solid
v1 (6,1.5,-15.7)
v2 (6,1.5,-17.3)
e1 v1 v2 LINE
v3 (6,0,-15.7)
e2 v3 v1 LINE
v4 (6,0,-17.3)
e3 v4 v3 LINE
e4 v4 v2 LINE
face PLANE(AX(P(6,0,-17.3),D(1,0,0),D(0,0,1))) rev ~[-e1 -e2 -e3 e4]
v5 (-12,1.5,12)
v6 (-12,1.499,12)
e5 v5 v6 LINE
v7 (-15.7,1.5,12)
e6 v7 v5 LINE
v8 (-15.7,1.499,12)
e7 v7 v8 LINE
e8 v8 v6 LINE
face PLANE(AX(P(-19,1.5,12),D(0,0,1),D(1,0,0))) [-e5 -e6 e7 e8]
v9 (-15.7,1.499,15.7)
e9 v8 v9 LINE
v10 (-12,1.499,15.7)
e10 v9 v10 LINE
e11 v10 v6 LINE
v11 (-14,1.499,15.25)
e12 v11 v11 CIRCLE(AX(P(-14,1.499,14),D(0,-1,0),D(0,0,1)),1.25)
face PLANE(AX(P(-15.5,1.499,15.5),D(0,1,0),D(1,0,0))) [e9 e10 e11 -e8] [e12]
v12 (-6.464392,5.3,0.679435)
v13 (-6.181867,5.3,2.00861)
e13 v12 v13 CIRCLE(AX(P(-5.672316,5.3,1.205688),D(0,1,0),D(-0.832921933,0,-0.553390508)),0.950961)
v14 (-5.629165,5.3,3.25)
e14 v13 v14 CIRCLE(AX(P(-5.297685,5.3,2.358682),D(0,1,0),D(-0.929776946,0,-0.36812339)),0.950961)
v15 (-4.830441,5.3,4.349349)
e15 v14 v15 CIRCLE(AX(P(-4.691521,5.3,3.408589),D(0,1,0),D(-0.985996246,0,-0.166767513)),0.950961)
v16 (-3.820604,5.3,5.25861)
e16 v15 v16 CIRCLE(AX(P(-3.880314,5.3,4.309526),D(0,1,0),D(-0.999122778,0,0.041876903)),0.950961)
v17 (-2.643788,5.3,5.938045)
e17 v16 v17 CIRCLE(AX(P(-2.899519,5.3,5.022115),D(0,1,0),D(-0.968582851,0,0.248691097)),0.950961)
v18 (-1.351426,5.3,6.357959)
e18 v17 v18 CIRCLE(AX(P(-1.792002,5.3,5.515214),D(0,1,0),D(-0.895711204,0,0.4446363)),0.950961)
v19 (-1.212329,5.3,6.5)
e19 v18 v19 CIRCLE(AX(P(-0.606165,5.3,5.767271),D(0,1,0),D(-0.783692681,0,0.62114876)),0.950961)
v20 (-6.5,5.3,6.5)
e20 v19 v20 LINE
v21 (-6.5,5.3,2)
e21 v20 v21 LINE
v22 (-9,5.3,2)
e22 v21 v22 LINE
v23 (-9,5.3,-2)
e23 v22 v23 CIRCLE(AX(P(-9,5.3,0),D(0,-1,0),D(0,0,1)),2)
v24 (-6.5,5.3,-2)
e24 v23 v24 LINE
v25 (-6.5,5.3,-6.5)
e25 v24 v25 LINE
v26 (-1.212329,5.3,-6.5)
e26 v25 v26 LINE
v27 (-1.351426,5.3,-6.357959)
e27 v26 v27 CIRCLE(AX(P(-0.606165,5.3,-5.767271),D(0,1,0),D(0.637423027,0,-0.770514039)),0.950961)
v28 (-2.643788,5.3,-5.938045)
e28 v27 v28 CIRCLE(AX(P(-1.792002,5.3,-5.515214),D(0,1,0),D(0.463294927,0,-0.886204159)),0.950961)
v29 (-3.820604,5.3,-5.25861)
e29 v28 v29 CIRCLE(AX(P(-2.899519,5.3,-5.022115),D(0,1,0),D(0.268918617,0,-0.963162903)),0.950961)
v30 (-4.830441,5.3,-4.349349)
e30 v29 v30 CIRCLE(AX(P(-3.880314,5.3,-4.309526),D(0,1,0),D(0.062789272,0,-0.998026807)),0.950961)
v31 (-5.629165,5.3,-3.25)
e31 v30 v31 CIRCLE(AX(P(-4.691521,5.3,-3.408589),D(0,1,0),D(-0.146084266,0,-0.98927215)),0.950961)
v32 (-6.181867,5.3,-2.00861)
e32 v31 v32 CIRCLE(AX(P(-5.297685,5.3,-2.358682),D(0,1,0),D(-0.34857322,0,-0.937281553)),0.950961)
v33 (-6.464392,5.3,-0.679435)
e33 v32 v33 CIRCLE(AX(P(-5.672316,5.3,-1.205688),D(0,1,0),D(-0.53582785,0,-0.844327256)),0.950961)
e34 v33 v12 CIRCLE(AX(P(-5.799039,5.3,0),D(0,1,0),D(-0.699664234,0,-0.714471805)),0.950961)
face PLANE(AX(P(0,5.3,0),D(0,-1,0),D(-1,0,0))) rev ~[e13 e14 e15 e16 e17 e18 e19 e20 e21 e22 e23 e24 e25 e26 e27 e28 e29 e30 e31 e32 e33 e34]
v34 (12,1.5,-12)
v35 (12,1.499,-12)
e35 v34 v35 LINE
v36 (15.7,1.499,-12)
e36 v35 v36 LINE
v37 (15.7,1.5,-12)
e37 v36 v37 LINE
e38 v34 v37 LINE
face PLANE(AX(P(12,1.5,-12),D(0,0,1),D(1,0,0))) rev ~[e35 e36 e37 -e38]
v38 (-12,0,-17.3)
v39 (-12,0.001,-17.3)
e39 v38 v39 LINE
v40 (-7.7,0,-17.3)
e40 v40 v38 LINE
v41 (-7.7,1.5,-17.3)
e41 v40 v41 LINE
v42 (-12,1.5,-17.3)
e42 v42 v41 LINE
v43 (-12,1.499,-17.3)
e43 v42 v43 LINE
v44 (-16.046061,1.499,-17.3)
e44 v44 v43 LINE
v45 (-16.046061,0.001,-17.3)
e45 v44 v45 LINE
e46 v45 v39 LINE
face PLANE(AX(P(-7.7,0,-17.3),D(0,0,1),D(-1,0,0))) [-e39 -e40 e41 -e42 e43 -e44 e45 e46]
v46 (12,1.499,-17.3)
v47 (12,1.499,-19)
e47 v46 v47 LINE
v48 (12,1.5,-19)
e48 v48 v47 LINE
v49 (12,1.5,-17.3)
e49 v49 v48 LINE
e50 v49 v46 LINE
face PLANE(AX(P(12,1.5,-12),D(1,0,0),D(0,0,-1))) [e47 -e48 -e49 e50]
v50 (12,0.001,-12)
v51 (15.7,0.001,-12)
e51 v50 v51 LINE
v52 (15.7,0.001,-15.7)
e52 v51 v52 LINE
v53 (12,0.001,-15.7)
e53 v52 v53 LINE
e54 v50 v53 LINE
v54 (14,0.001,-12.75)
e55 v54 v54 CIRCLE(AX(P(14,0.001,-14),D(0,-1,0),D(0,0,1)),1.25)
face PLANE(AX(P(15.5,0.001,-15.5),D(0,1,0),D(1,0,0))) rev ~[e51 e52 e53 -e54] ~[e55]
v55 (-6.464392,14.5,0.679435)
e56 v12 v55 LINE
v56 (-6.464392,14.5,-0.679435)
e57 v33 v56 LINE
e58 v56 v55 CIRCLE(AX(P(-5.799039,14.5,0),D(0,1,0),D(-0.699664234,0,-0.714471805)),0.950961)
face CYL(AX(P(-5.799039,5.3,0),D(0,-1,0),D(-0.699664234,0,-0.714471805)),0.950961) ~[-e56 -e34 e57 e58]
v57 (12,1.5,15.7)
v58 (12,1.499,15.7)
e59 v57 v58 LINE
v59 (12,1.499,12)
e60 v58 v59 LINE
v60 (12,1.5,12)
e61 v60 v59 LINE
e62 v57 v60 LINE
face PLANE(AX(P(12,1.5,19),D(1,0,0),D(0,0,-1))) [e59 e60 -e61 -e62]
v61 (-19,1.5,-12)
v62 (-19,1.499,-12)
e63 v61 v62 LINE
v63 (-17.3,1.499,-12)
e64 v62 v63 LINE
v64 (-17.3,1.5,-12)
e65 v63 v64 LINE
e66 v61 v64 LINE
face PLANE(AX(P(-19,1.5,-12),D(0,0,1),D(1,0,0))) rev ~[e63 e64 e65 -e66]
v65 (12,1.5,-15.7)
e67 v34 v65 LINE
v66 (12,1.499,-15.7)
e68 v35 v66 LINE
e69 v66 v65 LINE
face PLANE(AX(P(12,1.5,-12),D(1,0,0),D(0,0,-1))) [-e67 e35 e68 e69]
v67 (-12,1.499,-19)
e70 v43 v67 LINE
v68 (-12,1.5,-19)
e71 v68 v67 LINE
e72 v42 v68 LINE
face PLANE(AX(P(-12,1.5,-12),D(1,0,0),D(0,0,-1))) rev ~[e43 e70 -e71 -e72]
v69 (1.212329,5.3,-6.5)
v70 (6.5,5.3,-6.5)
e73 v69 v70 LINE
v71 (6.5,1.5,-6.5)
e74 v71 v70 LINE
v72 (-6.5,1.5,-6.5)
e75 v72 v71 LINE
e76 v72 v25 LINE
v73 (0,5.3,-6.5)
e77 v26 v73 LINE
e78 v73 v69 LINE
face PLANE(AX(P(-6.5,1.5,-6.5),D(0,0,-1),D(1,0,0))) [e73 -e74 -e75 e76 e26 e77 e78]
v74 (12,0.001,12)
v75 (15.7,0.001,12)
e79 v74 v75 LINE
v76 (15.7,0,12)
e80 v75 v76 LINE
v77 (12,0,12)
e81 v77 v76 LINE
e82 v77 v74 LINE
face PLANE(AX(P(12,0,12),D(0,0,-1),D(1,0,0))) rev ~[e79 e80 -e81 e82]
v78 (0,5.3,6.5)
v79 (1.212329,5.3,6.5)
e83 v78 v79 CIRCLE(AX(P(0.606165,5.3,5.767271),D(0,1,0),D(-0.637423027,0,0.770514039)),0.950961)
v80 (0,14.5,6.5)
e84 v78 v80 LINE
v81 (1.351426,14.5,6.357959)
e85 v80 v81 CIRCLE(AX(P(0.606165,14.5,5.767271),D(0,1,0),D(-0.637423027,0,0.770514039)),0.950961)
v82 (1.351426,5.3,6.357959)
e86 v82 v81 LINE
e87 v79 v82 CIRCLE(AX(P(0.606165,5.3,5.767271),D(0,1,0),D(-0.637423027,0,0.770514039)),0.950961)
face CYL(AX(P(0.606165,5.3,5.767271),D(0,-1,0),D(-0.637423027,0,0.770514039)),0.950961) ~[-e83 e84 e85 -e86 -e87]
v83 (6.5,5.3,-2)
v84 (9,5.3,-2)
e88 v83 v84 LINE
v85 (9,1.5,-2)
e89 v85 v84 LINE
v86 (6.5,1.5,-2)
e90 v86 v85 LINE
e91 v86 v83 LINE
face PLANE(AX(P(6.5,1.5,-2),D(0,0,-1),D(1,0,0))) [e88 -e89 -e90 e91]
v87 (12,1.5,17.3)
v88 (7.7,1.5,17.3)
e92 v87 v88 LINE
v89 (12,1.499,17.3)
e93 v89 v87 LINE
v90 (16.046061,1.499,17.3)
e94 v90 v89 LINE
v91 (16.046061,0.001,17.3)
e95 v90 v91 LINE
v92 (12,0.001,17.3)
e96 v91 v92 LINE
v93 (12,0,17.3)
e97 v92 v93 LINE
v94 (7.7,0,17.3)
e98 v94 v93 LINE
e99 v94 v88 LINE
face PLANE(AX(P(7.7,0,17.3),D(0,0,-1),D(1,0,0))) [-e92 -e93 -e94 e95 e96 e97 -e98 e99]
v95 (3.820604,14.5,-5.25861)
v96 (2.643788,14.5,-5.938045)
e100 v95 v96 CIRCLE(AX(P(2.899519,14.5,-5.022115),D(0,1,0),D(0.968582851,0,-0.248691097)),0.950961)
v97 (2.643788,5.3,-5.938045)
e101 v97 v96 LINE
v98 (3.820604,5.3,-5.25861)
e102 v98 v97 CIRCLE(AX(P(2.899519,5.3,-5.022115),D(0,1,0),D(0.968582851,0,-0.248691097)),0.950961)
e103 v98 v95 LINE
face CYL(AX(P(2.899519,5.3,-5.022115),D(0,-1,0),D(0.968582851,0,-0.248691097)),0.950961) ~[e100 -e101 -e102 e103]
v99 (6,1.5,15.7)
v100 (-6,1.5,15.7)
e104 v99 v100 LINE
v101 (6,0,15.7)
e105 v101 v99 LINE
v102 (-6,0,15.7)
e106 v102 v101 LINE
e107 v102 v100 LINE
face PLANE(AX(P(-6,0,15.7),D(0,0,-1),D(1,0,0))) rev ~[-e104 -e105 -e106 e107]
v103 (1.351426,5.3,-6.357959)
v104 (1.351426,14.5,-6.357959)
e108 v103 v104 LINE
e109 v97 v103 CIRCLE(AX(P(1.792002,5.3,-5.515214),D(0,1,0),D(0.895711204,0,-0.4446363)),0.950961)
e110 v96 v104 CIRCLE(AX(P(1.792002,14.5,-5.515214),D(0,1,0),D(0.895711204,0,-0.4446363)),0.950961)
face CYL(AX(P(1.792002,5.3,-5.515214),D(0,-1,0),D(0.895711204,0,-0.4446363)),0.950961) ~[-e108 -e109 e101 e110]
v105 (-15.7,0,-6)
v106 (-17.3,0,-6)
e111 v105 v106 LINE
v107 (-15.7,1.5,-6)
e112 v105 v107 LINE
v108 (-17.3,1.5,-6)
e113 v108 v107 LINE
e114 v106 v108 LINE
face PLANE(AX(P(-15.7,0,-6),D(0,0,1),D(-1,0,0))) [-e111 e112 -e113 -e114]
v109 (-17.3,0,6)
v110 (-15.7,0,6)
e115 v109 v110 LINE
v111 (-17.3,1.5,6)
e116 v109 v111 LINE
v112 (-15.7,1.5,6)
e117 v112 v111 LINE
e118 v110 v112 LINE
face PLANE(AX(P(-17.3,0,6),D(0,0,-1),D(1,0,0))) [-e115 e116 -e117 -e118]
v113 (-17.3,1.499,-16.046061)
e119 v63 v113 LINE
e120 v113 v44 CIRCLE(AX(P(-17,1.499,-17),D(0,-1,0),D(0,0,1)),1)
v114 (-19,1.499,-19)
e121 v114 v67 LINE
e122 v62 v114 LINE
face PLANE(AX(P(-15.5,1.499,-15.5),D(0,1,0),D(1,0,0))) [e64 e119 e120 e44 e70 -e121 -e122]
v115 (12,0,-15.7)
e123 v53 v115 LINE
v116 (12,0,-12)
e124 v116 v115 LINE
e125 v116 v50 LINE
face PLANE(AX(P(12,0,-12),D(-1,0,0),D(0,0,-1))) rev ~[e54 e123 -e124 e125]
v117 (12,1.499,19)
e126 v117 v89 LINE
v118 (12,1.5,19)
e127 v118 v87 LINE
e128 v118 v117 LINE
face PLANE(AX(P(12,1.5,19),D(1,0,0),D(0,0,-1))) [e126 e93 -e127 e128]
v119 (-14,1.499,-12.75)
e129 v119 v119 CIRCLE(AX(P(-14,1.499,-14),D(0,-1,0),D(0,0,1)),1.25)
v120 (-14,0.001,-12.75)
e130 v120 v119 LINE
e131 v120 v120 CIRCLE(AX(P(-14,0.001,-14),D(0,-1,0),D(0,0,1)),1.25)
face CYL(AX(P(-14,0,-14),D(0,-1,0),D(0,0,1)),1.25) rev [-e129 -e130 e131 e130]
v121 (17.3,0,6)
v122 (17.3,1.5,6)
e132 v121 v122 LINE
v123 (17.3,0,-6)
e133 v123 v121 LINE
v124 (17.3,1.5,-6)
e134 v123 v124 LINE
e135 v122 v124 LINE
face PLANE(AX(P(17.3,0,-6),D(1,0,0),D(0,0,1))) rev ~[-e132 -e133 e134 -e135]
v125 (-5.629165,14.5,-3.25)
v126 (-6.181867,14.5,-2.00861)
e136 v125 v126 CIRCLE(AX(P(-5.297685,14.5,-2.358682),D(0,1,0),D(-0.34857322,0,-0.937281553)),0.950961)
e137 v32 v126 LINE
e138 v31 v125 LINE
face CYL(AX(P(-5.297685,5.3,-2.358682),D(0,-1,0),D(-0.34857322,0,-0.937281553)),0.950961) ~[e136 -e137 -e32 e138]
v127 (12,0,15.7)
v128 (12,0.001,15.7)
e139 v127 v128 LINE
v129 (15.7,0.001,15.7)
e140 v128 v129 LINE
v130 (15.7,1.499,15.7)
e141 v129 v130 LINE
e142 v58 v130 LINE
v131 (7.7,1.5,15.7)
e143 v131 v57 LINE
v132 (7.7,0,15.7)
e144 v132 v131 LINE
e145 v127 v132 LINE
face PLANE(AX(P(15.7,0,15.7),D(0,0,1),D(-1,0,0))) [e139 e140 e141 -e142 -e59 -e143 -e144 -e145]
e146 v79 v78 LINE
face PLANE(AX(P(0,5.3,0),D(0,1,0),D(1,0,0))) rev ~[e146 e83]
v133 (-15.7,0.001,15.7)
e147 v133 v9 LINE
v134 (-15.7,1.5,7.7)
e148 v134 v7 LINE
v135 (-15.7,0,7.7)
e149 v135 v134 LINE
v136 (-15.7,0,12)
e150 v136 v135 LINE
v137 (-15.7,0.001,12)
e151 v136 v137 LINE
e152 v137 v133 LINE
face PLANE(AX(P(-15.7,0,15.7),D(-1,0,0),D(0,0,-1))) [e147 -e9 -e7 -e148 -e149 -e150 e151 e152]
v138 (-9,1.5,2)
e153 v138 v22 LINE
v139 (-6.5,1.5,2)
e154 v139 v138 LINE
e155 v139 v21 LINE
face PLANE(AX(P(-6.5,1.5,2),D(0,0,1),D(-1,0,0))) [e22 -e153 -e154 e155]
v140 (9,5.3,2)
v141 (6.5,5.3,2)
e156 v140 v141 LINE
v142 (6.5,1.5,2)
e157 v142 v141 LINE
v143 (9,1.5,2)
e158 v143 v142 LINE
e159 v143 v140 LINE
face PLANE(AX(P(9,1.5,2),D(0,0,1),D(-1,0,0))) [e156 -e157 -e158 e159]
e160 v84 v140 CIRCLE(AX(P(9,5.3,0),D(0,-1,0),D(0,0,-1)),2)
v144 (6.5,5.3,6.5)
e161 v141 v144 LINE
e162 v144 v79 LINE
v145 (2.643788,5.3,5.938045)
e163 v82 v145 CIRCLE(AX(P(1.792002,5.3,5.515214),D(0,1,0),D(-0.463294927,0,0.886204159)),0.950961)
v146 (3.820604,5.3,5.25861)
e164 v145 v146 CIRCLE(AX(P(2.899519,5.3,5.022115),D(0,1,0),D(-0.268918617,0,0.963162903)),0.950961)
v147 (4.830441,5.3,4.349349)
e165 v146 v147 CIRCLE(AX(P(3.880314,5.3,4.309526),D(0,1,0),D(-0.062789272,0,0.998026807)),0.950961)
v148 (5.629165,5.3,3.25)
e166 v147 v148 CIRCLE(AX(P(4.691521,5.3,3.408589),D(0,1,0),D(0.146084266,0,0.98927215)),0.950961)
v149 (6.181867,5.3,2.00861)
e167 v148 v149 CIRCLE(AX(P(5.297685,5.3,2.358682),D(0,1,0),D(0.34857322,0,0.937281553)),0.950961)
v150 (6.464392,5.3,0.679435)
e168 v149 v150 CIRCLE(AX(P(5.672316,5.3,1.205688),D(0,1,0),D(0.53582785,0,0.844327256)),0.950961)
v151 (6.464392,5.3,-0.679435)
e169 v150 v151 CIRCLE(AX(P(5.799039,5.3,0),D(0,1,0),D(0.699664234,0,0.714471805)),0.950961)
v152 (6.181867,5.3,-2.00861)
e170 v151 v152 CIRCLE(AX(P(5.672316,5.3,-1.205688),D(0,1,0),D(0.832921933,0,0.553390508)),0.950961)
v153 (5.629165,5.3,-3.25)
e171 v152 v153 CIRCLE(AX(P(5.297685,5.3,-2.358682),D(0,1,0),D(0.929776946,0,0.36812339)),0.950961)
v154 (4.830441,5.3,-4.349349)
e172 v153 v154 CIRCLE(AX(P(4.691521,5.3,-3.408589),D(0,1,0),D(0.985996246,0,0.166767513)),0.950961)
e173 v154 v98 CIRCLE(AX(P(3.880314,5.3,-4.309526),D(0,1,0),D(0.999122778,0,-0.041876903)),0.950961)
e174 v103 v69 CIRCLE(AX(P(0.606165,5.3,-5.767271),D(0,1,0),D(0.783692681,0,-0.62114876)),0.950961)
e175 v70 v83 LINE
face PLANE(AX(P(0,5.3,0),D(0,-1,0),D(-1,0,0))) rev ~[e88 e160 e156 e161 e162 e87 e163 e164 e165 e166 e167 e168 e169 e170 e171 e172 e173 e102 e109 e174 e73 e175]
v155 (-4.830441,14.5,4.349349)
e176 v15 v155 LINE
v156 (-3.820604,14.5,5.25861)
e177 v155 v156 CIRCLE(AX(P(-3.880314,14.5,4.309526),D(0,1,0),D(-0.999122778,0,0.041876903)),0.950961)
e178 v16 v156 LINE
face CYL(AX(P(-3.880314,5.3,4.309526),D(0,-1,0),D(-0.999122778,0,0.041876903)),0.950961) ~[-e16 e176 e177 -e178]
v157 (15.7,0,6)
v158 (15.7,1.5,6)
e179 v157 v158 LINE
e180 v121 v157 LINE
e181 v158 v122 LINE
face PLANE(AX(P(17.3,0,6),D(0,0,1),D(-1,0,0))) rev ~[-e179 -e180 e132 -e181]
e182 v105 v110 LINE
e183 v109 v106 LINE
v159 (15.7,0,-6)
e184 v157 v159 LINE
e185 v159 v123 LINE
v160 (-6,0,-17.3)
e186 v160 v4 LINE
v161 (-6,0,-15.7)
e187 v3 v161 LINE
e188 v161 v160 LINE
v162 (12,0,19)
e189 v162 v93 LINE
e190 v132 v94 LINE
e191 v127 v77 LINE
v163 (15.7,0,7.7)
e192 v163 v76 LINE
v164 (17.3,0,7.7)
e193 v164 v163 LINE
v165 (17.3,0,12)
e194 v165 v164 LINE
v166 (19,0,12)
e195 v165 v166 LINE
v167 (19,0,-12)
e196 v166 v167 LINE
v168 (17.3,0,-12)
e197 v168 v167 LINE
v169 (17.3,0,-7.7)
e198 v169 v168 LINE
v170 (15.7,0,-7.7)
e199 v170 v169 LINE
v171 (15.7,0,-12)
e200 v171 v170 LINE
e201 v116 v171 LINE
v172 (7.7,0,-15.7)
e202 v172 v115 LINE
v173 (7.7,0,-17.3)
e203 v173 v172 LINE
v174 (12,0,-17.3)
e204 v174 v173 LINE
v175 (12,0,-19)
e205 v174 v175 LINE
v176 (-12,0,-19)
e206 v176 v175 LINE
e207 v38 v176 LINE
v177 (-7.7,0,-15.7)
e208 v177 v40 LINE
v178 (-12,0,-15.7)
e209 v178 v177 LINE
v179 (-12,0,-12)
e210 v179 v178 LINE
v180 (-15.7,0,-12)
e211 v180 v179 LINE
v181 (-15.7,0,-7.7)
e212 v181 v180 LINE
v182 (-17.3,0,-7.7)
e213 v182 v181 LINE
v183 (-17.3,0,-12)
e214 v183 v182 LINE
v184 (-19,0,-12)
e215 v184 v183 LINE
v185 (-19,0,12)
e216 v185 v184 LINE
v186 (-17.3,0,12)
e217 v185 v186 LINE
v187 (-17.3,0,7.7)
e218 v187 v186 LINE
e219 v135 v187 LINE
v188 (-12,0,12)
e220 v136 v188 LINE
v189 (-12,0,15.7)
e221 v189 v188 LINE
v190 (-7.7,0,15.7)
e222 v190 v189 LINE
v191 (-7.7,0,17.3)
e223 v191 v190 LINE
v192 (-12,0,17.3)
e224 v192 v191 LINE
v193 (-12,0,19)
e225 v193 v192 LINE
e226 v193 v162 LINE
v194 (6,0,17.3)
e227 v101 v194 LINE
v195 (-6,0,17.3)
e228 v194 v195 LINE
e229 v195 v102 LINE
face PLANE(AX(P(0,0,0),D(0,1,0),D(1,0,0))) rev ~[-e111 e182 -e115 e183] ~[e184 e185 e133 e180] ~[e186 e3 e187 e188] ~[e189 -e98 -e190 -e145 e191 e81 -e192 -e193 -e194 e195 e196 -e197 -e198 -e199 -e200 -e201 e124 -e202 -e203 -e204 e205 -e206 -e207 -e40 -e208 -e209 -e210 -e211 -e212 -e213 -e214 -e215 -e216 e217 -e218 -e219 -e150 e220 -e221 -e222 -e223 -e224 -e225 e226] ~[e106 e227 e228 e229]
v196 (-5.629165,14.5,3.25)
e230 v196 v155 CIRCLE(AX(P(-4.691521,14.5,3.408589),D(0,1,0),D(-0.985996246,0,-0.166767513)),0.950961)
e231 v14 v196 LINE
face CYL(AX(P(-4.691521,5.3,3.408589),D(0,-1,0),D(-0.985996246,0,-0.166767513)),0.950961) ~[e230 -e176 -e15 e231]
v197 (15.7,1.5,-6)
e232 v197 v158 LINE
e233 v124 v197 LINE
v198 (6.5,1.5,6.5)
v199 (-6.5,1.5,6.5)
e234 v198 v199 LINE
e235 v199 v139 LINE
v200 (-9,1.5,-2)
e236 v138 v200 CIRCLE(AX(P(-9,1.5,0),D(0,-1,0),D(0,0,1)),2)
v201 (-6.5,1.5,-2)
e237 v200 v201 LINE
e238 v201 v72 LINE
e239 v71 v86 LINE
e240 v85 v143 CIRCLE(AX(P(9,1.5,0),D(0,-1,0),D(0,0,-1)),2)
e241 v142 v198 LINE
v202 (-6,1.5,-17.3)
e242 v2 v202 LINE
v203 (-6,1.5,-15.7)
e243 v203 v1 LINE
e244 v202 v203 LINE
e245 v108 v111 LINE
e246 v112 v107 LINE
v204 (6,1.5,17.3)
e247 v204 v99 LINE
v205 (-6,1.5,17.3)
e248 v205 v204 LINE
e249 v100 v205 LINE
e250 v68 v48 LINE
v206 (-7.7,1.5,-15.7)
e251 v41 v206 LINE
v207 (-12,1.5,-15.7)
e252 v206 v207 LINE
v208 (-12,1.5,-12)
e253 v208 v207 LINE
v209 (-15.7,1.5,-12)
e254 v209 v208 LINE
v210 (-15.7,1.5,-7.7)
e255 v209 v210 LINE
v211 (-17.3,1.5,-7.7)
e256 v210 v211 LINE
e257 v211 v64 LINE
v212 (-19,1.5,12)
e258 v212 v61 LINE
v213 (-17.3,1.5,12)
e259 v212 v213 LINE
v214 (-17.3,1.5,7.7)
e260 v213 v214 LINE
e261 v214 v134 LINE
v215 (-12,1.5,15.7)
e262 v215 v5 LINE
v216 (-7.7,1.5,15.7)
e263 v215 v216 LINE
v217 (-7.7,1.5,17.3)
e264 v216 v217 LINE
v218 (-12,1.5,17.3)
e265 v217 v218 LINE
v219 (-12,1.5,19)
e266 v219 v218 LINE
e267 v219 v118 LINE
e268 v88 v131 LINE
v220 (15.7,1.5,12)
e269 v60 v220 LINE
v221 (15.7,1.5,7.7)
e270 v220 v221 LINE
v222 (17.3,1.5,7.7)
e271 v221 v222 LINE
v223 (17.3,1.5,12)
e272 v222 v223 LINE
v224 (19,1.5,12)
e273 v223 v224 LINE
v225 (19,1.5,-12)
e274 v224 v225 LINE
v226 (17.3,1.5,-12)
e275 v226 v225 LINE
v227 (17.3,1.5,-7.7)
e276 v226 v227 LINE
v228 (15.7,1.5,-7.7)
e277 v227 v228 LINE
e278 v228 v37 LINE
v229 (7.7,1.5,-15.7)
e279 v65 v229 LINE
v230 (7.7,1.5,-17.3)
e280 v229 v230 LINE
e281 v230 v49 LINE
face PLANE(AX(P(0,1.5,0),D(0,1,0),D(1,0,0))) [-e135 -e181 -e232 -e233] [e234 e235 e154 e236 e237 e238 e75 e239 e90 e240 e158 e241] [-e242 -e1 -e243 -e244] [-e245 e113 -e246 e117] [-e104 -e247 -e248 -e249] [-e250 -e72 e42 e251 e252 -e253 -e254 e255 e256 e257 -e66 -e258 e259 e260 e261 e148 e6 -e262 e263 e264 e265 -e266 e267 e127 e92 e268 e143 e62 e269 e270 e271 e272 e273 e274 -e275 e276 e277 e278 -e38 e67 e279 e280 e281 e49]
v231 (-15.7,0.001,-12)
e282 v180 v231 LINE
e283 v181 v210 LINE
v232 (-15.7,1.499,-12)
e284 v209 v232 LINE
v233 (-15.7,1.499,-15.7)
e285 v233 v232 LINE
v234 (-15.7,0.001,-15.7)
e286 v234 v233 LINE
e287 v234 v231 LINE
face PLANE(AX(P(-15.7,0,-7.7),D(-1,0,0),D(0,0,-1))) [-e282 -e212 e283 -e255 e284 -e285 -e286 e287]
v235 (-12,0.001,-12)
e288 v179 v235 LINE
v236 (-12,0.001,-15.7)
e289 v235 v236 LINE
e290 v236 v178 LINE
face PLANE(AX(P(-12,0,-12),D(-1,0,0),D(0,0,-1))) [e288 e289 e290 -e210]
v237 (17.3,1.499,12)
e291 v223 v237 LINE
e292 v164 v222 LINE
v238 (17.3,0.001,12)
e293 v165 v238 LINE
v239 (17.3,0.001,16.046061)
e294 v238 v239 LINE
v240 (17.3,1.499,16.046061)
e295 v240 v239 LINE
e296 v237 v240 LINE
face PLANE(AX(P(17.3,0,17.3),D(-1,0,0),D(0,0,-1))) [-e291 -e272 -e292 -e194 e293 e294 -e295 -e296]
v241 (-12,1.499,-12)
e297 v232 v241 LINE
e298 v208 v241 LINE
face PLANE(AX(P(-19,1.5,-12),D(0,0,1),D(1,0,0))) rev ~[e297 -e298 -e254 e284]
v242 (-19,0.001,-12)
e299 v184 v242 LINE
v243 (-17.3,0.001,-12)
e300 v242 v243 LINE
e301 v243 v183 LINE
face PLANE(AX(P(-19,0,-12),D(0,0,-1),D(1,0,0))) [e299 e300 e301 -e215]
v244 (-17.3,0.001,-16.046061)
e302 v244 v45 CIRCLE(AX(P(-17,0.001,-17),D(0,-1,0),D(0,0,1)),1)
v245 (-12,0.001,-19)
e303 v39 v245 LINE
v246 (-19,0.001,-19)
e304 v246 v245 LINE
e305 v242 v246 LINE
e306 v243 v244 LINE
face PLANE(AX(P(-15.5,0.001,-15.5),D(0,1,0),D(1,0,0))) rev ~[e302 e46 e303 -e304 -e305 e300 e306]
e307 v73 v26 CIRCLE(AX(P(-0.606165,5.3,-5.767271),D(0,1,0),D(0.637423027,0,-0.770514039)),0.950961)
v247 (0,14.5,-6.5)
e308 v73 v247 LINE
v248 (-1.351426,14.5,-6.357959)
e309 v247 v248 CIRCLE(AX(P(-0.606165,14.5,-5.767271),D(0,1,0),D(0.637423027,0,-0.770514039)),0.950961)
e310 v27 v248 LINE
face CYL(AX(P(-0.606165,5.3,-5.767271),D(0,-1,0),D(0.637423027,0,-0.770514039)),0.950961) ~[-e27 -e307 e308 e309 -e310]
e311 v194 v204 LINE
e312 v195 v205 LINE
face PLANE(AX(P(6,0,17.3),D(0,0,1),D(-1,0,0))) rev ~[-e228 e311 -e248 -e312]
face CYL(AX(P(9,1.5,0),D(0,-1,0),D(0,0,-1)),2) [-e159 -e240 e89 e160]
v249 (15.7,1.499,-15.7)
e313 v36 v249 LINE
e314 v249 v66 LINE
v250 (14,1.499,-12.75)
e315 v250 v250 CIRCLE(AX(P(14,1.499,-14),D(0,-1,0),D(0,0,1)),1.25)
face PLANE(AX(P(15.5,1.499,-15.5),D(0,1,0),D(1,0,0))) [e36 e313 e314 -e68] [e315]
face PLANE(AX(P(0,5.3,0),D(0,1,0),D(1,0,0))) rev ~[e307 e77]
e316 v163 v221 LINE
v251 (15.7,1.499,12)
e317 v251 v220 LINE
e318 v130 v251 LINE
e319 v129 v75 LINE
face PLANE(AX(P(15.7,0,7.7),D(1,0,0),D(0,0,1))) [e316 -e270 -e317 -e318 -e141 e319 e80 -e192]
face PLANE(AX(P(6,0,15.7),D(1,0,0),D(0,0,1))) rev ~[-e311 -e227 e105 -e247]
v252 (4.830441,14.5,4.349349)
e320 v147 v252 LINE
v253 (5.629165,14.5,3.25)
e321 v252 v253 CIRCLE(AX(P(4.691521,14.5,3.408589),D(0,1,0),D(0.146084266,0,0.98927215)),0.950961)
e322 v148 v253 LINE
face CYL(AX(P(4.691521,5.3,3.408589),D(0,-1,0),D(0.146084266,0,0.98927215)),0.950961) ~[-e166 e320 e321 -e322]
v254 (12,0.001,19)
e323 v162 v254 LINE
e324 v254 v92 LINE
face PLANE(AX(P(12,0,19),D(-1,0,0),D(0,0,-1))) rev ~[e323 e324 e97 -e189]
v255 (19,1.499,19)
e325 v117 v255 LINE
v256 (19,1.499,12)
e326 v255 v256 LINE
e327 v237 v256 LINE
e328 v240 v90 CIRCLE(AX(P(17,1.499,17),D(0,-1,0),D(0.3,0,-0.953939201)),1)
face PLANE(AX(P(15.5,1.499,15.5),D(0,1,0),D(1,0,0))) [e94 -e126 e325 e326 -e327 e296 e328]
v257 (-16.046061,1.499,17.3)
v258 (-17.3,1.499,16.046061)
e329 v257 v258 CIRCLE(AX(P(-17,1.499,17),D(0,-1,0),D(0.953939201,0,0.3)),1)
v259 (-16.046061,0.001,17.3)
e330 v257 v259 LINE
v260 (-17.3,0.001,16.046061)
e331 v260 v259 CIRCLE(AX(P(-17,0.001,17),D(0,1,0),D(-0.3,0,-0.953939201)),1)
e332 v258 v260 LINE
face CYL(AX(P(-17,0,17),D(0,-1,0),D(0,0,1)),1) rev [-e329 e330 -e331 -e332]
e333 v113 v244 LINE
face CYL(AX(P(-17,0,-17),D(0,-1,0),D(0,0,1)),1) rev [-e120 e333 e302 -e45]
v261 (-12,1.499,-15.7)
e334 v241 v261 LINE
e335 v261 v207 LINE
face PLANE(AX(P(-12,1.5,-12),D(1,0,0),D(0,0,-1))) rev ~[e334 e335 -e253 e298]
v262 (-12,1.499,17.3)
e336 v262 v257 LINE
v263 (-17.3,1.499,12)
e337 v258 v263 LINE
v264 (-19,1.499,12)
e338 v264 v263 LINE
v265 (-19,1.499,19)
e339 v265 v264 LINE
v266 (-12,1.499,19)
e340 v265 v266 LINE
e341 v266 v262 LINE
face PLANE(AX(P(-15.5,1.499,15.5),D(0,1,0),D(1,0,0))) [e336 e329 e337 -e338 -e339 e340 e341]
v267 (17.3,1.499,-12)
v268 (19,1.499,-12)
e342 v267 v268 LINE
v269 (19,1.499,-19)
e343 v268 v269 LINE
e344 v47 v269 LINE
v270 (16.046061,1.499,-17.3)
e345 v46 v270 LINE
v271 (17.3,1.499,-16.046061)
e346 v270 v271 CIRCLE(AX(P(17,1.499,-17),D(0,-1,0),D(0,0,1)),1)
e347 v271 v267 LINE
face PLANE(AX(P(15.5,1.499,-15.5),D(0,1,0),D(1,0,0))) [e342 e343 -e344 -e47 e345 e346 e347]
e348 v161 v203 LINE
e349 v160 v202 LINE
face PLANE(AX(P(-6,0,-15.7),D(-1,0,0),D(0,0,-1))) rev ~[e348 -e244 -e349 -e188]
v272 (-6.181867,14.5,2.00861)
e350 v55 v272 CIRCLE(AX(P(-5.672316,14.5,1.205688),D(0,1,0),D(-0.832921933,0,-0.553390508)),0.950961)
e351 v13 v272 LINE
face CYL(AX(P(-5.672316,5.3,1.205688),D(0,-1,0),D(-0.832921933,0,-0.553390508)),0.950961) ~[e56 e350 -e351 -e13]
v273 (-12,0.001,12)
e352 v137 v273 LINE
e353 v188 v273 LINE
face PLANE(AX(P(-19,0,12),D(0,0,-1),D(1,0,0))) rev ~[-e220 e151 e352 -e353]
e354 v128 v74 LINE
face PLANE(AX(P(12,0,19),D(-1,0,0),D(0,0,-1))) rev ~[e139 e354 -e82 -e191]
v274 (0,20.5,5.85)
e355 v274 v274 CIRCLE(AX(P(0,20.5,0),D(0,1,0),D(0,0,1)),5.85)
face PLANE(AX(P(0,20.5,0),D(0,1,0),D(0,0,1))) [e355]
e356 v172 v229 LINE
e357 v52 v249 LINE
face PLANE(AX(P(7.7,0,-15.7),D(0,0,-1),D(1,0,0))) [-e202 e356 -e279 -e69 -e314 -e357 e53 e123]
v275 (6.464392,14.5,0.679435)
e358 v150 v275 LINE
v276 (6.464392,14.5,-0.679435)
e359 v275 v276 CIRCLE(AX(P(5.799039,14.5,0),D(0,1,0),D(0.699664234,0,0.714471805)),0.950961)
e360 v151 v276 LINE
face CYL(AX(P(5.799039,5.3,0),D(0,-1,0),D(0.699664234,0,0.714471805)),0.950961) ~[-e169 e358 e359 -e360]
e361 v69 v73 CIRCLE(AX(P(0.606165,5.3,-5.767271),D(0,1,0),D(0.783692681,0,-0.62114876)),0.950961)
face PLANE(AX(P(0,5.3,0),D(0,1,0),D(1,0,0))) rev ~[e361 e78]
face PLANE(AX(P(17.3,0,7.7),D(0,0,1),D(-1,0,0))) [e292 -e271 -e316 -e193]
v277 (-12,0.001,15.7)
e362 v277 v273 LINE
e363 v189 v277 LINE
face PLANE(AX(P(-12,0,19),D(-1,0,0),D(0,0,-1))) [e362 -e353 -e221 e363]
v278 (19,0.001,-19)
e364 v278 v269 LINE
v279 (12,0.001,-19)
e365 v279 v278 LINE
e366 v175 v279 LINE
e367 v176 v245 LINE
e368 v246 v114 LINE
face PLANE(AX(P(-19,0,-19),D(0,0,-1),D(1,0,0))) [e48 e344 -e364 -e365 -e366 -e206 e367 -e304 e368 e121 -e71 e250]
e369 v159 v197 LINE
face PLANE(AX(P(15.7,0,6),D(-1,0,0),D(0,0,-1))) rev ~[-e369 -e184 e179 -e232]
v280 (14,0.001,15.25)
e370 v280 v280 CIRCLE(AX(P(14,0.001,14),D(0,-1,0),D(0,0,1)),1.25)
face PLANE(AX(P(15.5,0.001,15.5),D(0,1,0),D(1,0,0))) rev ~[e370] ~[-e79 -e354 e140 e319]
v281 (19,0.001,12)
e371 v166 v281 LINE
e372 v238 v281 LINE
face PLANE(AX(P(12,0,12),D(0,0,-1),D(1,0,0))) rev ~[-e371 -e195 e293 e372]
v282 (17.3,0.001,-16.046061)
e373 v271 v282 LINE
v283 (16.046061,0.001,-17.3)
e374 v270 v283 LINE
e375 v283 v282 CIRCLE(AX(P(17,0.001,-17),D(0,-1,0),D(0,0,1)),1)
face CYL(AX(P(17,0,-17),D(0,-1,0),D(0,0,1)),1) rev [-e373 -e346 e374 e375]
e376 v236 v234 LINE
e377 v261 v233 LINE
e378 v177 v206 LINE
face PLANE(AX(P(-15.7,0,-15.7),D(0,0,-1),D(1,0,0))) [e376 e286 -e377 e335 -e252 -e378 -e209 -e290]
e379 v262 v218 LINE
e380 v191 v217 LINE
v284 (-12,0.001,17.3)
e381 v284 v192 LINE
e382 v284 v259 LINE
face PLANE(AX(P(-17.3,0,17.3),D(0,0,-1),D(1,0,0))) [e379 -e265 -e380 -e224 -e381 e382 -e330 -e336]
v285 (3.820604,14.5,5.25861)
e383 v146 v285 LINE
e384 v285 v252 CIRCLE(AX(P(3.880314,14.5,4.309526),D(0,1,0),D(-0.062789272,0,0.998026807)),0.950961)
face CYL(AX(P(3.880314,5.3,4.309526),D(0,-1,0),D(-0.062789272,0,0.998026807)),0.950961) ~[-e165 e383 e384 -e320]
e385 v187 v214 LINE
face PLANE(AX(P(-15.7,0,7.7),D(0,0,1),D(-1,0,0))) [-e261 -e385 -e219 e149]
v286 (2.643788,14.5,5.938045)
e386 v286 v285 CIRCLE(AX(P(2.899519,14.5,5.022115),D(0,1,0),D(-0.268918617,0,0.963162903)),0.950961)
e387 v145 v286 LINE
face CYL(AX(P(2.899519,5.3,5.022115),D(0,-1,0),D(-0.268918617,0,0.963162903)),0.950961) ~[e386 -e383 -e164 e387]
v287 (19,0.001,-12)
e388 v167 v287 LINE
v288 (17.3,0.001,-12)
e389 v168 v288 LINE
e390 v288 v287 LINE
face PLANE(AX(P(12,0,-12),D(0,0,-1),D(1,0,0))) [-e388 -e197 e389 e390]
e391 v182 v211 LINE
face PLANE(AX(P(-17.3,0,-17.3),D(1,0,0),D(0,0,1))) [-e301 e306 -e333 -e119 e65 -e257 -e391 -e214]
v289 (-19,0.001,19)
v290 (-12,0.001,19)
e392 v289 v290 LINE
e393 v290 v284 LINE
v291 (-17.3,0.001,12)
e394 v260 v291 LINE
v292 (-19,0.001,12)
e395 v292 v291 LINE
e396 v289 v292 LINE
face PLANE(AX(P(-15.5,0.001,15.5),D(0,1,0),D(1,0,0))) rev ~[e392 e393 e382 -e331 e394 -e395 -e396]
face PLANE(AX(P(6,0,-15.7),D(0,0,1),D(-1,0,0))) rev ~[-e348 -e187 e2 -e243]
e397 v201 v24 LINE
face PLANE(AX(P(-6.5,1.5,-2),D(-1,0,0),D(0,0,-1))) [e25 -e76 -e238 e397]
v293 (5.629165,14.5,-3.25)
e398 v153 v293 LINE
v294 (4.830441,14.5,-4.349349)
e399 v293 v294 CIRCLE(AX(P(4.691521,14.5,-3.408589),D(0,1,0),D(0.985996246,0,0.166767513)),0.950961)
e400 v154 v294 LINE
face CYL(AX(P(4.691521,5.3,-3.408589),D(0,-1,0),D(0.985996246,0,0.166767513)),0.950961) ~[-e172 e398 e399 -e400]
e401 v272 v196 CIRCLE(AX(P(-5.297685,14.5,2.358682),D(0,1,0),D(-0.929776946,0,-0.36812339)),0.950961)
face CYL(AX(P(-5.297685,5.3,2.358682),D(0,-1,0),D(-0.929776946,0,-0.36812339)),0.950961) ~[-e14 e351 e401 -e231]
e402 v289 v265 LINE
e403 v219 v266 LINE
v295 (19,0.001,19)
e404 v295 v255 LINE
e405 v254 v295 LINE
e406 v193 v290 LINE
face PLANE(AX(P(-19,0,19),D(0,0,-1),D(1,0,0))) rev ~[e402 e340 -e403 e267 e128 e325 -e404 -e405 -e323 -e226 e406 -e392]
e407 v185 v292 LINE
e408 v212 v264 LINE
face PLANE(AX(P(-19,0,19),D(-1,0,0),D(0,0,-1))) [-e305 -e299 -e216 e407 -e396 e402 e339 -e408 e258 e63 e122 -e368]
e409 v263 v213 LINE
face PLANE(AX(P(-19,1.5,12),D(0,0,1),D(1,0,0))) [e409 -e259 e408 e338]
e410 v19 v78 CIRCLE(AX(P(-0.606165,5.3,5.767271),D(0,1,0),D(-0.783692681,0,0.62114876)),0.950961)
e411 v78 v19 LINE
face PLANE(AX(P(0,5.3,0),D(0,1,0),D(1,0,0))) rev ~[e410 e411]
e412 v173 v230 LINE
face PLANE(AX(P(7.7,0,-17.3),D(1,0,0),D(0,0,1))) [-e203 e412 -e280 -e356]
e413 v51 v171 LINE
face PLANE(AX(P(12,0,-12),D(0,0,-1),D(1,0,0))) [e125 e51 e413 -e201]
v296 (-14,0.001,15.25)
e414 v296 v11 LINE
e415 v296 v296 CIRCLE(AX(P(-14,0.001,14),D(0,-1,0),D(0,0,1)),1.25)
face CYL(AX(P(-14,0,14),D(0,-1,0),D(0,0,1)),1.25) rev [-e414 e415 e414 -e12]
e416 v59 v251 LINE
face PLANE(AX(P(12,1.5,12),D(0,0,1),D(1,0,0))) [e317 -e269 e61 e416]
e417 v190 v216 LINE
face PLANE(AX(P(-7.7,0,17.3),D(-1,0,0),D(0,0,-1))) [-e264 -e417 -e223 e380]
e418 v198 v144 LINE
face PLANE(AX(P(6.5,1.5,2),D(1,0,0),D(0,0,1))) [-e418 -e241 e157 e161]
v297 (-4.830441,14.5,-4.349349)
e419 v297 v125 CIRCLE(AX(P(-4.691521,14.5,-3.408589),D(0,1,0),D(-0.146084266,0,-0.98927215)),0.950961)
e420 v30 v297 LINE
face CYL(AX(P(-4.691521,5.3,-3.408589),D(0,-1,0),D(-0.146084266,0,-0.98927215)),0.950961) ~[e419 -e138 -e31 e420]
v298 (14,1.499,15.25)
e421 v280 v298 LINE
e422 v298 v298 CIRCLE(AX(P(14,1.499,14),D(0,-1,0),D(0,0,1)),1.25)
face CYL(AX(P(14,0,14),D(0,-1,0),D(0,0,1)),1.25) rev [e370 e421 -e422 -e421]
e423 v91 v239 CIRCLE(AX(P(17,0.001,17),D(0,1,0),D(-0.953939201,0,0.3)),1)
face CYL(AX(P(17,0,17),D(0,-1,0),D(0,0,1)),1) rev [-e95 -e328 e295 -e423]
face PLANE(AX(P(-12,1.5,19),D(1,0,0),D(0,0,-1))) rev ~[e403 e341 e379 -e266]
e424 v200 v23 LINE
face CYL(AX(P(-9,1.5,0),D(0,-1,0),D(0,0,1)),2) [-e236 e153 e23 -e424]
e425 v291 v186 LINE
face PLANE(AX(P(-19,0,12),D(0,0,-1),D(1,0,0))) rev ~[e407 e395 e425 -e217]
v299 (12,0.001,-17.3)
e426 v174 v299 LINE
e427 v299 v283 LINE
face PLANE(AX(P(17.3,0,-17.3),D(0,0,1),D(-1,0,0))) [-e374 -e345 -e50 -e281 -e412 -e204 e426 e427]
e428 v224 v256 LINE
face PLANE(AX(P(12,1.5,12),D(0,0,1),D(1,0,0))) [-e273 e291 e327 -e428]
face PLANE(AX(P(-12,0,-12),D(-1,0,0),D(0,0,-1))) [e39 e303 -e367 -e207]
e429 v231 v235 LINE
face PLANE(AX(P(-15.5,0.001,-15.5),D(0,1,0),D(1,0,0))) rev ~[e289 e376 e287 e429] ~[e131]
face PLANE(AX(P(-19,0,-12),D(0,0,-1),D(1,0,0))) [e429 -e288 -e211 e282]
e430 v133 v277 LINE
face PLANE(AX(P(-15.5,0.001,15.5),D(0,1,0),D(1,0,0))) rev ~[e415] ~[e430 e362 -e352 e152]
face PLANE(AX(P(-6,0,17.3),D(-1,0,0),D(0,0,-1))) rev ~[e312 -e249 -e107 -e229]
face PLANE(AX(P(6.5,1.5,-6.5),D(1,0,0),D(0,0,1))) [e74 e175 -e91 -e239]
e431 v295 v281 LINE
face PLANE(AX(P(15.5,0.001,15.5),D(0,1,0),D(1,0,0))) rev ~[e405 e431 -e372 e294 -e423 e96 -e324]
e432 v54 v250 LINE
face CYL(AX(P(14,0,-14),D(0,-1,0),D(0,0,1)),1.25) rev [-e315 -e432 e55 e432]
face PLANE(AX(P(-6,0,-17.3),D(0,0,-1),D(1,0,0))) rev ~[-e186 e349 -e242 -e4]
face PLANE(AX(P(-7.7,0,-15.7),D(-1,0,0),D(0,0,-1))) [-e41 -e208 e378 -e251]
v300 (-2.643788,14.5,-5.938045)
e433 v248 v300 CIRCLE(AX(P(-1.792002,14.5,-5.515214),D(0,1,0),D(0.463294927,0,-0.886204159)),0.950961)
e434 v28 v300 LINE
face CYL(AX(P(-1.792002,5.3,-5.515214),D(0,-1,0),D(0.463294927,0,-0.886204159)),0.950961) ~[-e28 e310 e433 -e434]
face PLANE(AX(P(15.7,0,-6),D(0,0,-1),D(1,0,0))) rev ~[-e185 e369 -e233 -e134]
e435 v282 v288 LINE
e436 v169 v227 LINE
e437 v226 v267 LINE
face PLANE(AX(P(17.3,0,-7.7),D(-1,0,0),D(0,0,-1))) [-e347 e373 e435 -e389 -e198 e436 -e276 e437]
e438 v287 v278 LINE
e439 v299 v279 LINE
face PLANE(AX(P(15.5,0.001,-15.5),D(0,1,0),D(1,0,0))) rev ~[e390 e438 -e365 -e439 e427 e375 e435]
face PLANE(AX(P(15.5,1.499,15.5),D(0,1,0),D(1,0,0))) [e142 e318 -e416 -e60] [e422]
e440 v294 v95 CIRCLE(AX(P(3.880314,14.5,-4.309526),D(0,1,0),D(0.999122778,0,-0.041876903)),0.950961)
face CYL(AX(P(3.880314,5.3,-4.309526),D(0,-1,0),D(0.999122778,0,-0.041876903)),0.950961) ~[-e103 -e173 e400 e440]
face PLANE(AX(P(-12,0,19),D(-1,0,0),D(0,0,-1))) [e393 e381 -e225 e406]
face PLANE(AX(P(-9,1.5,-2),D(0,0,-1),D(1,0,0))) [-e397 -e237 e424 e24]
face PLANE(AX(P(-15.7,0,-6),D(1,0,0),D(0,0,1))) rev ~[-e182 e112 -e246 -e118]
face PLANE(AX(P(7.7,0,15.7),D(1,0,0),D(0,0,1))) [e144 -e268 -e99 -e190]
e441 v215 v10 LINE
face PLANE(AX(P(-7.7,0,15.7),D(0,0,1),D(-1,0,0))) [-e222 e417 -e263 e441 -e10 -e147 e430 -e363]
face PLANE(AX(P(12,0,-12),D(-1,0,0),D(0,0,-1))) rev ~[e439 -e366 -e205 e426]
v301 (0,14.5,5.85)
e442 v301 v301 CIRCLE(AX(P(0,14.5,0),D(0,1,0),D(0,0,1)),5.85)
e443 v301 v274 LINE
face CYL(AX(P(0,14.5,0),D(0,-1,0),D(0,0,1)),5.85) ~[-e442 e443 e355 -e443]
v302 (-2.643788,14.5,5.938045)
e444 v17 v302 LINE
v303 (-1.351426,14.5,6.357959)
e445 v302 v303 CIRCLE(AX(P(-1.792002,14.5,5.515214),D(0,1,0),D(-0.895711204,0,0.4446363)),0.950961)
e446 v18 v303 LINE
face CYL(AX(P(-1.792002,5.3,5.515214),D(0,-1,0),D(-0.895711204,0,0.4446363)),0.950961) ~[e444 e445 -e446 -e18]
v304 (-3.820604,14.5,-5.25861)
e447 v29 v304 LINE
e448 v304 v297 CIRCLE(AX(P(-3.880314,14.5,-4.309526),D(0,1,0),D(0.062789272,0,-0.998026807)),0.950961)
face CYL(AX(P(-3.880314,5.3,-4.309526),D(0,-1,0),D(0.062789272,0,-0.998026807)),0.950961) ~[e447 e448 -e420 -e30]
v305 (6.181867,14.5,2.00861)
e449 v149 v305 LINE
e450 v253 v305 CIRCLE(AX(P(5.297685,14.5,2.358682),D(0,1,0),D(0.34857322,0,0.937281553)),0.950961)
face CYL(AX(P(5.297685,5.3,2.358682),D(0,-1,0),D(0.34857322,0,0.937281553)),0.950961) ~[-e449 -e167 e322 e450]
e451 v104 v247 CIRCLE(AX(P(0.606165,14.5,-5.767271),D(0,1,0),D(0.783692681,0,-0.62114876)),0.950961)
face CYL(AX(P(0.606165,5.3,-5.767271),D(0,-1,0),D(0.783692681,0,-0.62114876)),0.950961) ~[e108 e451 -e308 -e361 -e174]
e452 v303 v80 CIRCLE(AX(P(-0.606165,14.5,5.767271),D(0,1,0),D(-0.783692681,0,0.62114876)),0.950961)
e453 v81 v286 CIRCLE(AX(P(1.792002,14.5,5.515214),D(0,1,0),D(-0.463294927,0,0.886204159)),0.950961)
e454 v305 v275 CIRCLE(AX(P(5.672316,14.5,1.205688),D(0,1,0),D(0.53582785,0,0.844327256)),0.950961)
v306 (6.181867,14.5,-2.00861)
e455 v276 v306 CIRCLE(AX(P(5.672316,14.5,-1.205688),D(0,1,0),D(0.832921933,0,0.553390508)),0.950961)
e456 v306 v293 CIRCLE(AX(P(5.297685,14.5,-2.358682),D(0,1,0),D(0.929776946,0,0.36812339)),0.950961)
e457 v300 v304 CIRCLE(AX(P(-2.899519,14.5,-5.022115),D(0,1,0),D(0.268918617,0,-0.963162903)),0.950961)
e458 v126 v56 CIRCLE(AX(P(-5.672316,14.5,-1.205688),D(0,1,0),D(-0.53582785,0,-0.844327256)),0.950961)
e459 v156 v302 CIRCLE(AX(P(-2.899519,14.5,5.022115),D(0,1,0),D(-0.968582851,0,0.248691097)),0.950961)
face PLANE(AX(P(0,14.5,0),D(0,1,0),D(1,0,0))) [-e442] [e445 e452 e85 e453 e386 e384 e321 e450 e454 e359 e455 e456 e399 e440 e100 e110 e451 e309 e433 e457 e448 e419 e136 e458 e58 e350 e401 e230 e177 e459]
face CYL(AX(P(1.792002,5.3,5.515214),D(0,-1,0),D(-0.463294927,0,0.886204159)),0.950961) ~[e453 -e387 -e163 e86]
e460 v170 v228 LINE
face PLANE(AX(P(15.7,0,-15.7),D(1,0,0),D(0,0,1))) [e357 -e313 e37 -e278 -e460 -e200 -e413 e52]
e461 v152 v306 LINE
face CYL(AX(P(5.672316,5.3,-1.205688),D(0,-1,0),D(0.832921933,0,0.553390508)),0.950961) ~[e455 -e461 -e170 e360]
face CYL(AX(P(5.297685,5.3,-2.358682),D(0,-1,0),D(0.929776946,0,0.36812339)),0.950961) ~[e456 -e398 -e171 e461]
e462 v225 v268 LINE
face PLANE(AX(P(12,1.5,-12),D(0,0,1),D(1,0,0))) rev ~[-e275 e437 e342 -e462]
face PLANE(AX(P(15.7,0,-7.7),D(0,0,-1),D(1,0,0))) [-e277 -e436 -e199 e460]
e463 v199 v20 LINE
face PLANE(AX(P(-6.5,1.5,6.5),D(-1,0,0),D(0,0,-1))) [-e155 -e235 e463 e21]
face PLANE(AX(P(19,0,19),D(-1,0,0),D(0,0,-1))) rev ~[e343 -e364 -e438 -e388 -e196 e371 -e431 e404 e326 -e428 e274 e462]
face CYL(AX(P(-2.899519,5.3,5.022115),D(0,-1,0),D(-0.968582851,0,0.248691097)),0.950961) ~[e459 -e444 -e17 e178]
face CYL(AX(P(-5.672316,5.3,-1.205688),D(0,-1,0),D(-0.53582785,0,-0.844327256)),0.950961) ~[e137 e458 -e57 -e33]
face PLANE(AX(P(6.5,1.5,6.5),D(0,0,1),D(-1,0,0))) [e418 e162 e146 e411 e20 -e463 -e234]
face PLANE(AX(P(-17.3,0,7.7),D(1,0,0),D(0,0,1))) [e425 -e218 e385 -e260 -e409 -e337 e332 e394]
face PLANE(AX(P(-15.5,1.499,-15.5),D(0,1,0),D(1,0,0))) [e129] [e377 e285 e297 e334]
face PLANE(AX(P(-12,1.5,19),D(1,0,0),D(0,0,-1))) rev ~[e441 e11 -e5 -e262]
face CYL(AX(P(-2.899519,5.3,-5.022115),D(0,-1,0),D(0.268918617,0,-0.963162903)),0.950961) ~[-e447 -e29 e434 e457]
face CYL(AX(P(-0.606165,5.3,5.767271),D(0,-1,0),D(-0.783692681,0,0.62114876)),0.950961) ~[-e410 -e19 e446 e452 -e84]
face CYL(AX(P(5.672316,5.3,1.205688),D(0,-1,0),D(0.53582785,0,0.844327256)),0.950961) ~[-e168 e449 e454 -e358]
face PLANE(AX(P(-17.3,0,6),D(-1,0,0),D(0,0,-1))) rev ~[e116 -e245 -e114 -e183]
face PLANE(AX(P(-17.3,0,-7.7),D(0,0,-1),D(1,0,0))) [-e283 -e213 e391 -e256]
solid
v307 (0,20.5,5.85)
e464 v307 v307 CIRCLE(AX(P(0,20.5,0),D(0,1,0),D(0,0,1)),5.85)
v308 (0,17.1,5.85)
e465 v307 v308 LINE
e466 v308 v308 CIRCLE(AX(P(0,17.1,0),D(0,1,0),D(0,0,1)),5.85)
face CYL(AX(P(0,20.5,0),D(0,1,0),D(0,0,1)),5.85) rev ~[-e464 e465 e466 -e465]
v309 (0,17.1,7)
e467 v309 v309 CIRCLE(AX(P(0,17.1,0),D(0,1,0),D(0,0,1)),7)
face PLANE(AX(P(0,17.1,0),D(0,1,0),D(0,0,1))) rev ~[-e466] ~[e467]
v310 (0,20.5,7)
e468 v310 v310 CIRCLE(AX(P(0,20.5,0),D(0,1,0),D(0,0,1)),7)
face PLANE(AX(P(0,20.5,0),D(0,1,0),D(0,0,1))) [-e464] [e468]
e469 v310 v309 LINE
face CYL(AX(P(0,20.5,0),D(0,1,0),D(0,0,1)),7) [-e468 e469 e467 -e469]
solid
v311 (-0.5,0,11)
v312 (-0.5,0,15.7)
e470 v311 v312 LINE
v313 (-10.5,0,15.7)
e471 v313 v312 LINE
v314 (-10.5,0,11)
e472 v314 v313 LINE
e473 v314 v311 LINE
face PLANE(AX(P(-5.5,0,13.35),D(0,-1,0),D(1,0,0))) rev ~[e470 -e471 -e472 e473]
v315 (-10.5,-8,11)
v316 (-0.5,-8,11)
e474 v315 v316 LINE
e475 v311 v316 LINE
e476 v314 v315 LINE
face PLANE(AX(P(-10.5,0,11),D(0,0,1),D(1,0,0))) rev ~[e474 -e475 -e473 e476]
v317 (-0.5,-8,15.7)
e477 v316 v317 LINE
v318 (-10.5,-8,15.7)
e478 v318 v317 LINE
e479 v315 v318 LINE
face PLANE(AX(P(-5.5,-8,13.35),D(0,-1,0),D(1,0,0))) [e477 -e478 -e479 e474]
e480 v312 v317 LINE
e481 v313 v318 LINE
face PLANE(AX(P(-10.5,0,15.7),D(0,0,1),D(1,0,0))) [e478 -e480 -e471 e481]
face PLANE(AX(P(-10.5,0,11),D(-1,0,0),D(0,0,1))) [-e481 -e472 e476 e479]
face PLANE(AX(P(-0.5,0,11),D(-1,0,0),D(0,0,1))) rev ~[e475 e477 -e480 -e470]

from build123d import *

# Parameters (mm, degrees)
SKETCH_1_W          = 38
SKETCH_1_H          = 38
SKETCH_1_R          = 1.25
SKETCH_1_R_2        = 1
EXTRUDE_1_DEPTH     = 1.5
SKETCH_9_W          = 7
SKETCH_9_H          = 7
CUT_EXTRUDE_2_DEPTH = 0.001
CUT_EXTRUDE_START   = -1.5
SKETCH_9_2_W        = 7
SKETCH_9_2_H        = 7
CUT_EXTRUDE_3_DEPTH = 0.001
CUT_EXTRUDE_1_DEPTH = 27.911893282
EXTRUDE_2_DEPTH     = 3.8
EXTRUDE_3_DEPTH     = 9.2
SKETCH_5_R          = 5.85
EXTRUDE_4_DEPTH     = 6
SKETCH_7_R          = 7
SKETCH_7_R_2        = 5.85
EXTRUDE_5_DEPTH     = 3.4
SKETCH_8_W          = 10
SKETCH_8_H          = 4.7
EXTRUDE_6_DEPTH     = 8


with BuildPart() as part:
    # 草图1 → 凸台-拉伸1 (new body)
    with BuildSketch(Plane(origin=(0, 0, 0), x_dir=(1, 0, 0), z_dir=(0, 1, 0))):
        Rectangle(SKETCH_1_W, SKETCH_1_H)
        with Locations(Location((-14, 14, 0), (0, 0, 270))):
            Circle(SKETCH_1_R, mode=Mode.SUBTRACT)
        with Locations(Location((-14, -14, 0), (0, 0, 270))):
            Circle(SKETCH_1_R, mode=Mode.SUBTRACT)
        with Locations(Location((14, 14, 0), (0, 0, 270))):
            Circle(SKETCH_1_R, mode=Mode.SUBTRACT)
        with Locations(Location((14, -14, 0), (0, 0, 270))):
            Circle(SKETCH_1_R, mode=Mode.SUBTRACT)
        with Locations(Location((-17, 17, 0), (0, 0, 270))):
            Circle(SKETCH_1_R_2, mode=Mode.SUBTRACT)
        with Locations(Location((-17, -17, 0), (0, 0, 270))):
            Circle(SKETCH_1_R_2, mode=Mode.SUBTRACT)
        with Locations(Location((17, -17, 0), (0, 0, 270))):
            Circle(SKETCH_1_R_2, mode=Mode.SUBTRACT)
        with Locations(Location((17, 17, 0), (0, 0, 270))):
            Circle(SKETCH_1_R_2, mode=Mode.SUBTRACT)
    extrude(amount=EXTRUDE_1_DEPTH)

    # 草图9 → 切除-拉伸2 (cut)
    with BuildSketch(Plane(origin=(0, 1.5, 0), x_dir=(1, 0, 0), z_dir=(0, 1, 0))):
        with Locations((15.5, 15.5)):
            Rectangle(SKETCH_9_W, SKETCH_9_H)
        with Locations((-15.5, 15.5)):
            Rectangle(SKETCH_9_W, SKETCH_9_H)
        with Locations((15.5, -15.5)):
            Rectangle(SKETCH_9_W, SKETCH_9_H)
        with Locations((-15.5, -15.5)):
            Rectangle(SKETCH_9_W, SKETCH_9_H)
    extrude(amount=-CUT_EXTRUDE_2_DEPTH, mode=Mode.SUBTRACT)

    # 草图9<2> → 切除-拉伸3 (cut)
    with BuildSketch(Plane(origin=(0, 1.5, 0), x_dir=(1, 0, 0), z_dir=(0, 1, 0)).offset(CUT_EXTRUDE_START)):
        with Locations((15.5, 15.5)):
            Rectangle(SKETCH_9_2_W, SKETCH_9_2_H)
        with Locations((-15.5, 15.5)):
            Rectangle(SKETCH_9_2_W, SKETCH_9_2_H)
        with Locations((15.5, -15.5)):
            Rectangle(SKETCH_9_2_W, SKETCH_9_2_H)
        with Locations((-15.5, -15.5)):
            Rectangle(SKETCH_9_2_W, SKETCH_9_2_H)
    extrude(amount=CUT_EXTRUDE_3_DEPTH, mode=Mode.SUBTRACT)

    # 草图2 → 切除-拉伸1 (cut, through all)
    with BuildSketch(Plane.XZ):
        Polygon((-17.3, 17.3), (-7.7, 17.3), (-7.7, 15.7), (-15.7, 15.7), (-15.7, 7.7), (-17.3, 7.7), align=None)
        Polygon((0, 17.3), (-6, 17.3), (-6, 15.7), (0, 15.7), (6, 15.7), (6, 17.3), align=None)
        Polygon((-15.7, 6), (-15.7, 0), (-15.7, -6), (-17.3, -6), (-17.3, 0), (-17.3, 6), align=None)
        Polygon((15.7, 7.7), (15.7, 15.7), (7.7, 15.7), (7.7, 17.3), (17.3, 17.3), (17.3, 7.7), align=None)
        Polygon((17.3, 6), (15.7, 6), (15.7, 0), (15.7, -6), (17.3, -6), (17.3, 0), align=None)
        Polygon((7.7, -15.7), (15.7, -15.7), (15.7, -7.7), (17.3, -7.7), (17.3, -17.3), (7.7, -17.3), align=None)
        Polygon((6, -17.3), (6, -15.7), (0, -15.7), (-6, -15.7), (-6, -17.3), (0, -17.3), align=None)
        Polygon((-15.7, -7.7), (-15.7, -15.7), (-7.7, -15.7), (-7.7, -17.3), (-17.3, -17.3), (-17.3, -7.7), align=None)
    extrude(amount=-CUT_EXTRUDE_1_DEPTH, mode=Mode.SUBTRACT)

    # 草图3 → 凸台-拉伸2 (add)
    with BuildSketch(Plane(origin=(0, 1.5, 0), x_dir=(1, 0, 0), z_dir=(0, 1, 0))):
        with BuildLine():
            Line((-6.5, 2), (-6.5, 6.5))
            Line((-6.5, 6.5), (6.5, 6.5))
            Line((6.5, 6.5), (6.5, 2))
            Line((6.5, 2), (9, 2))
            ThreePointArc((9, 2), (11, 0), (9, -2))
            Line((9, -2), (6.5, -2))
            Line((6.5, -2), (6.5, -6.5))
            Line((6.5, -6.5), (-6.5, -6.5))
            Line((-6.5, -6.5), (-6.5, -2))
            Line((-6.5, -2), (-9, -2))
            ThreePointArc((-9, -2), (-11, 0), (-9, 2))
            Line((-9, 2), (-6.5, 2))
        make_face()
    extrude(amount=EXTRUDE_2_DEPTH)

    # 草图4 → 凸台-拉伸3 (add)
    with BuildSketch(Plane(origin=(0, 5.3, 0), x_dir=(1, 0, 0), z_dir=(0, 1, 0))):
        with BuildLine():
            ThreePointArc((1.35142599, 6.357959405), (0.705567127, 6.713022794), (0, 6.5))
            ThreePointArc((0, 6.5), (-0.705567127, 6.713022794), (-1.35142599, 6.357959405))
            ThreePointArc((-1.35142599, 6.357959405), (-2.085864712, 6.419631485), (-2.64378818, 5.938045475))
            ThreePointArc((-2.64378818, 5.938045475), (-3.375, 5.845671476), (-3.82060414, 5.258610463))
            ThreePointArc((-3.82060414, 5.258610463), (-4.516631593, 5.016227572), (-4.830441366, 4.349348941))
            ThreePointArc((-4.830441366, 4.349348941), (-5.460864712, 3.967550453), (-5.629165125, 3.25))
            ThreePointArc((-5.629165125, 3.25), (-6.166431839, 2.745472341), (-6.181867356, 2.008610463))
            ThreePointArc((-6.181867356, 2.008610463), (-6.602496305, 1.403403913), (-6.46439232, 0.679435011))
            ThreePointArc((-6.46439232, 0.679435011), (-6.75, 0), (-6.46439232, -0.679435011))
            ThreePointArc((-6.46439232, -0.679435011), (-6.602496305, -1.403403913), (-6.181867356, -2.008610463))
            ThreePointArc((-6.181867356, -2.008610463), (-6.166431839, -2.745472341), (-5.629165125, -3.25))
            ThreePointArc((-5.629165125, -3.25), (-5.460864712, -3.967550453), (-4.830441366, -4.349348941))
            ThreePointArc((-4.830441366, -4.349348941), (-4.516631593, -5.016227572), (-3.82060414, -5.258610463))
            ThreePointArc((-3.82060414, -5.258610463), (-3.375, -5.845671476), (-2.64378818, -5.938045475))
            ThreePointArc((-2.64378818, -5.938045475), (-2.085864712, -6.419631485), (-1.35142599, -6.357959405))
            ThreePointArc((-1.35142599, -6.357959405), (-0.705567127, -6.713022794), (0, -6.5))
            ThreePointArc((0, -6.5), (0.705567127, -6.713022794), (1.35142599, -6.357959405))
            ThreePointArc((1.35142599, -6.357959405), (2.085864712, -6.419631485), (2.64378818, -5.938045475))
            ThreePointArc((2.64378818, -5.938045475), (3.375, -5.845671476), (3.82060414, -5.258610463))
            ThreePointArc((3.82060414, -5.258610463), (4.516631593, -5.016227572), (4.830441366, -4.349348941))
            ThreePointArc((4.830441366, -4.349348941), (5.460864712, -3.967550453), (5.629165125, -3.25))
            ThreePointArc((5.629165125, -3.25), (6.166431839, -2.745472341), (6.181867356, -2.008610463))
            ThreePointArc((6.181867356, -2.008610463), (6.602496305, -1.403403913), (6.46439232, -0.679435011))
            ThreePointArc((6.46439232, -0.679435011), (6.75, 0), (6.46439232, 0.679435011))
            ThreePointArc((6.46439232, 0.679435011), (6.602496305, 1.403403913), (6.181867356, 2.008610463))
            ThreePointArc((6.181867356, 2.008610463), (6.166431839, 2.745472341), (5.629165125, 3.25))
            ThreePointArc((5.629165125, 3.25), (5.460864712, 3.967550453), (4.830441366, 4.349348941))
            ThreePointArc((4.830441366, 4.349348941), (4.516631593, 5.016227572), (3.82060414, 5.258610463))
            ThreePointArc((3.82060414, 5.258610463), (3.375, 5.845671476), (2.64378818, 5.938045475))
            ThreePointArc((2.64378818, 5.938045475), (2.085864712, 6.419631485), (1.35142599, 6.357959405))
        make_face()
    extrude(amount=EXTRUDE_3_DEPTH)

    # 草图5 → 凸台-拉伸4 (add)
    with BuildSketch(Plane(origin=(0, 14.5, 0), x_dir=(1, 0, 0), z_dir=(0, 1, 0))):
        with Locations(Location((0, 0, 0), (0, 0, 270))):
            Circle(SKETCH_5_R)
    extrude(amount=EXTRUDE_4_DEPTH)


with BuildPart() as body_2:
    # 草图7 → 凸台-拉伸5 (new body)
    with BuildSketch(Plane(origin=(0, 20.5, 0), x_dir=(1, 0, 0), z_dir=(0, 1, 0))):
        with Locations(Location((0, 0, 0), (0, 0, 270))):
            Circle(SKETCH_7_R)
        with Locations(Location((0, 0, 0), (0, 0, 270))):
            Circle(SKETCH_7_R_2, mode=Mode.SUBTRACT)
    extrude(amount=-EXTRUDE_5_DEPTH)


with BuildPart() as body_3:
    # 草图8 → 凸台-拉伸6 (new body)
    with BuildSketch(Plane.XZ):
        with Locations((-5.5, 13.35)):
            Rectangle(SKETCH_8_W, SKETCH_8_H)
    extrude(amount=EXTRUDE_6_DEPTH)


solid = Compound([part.part, body_2.part, body_3.part])
